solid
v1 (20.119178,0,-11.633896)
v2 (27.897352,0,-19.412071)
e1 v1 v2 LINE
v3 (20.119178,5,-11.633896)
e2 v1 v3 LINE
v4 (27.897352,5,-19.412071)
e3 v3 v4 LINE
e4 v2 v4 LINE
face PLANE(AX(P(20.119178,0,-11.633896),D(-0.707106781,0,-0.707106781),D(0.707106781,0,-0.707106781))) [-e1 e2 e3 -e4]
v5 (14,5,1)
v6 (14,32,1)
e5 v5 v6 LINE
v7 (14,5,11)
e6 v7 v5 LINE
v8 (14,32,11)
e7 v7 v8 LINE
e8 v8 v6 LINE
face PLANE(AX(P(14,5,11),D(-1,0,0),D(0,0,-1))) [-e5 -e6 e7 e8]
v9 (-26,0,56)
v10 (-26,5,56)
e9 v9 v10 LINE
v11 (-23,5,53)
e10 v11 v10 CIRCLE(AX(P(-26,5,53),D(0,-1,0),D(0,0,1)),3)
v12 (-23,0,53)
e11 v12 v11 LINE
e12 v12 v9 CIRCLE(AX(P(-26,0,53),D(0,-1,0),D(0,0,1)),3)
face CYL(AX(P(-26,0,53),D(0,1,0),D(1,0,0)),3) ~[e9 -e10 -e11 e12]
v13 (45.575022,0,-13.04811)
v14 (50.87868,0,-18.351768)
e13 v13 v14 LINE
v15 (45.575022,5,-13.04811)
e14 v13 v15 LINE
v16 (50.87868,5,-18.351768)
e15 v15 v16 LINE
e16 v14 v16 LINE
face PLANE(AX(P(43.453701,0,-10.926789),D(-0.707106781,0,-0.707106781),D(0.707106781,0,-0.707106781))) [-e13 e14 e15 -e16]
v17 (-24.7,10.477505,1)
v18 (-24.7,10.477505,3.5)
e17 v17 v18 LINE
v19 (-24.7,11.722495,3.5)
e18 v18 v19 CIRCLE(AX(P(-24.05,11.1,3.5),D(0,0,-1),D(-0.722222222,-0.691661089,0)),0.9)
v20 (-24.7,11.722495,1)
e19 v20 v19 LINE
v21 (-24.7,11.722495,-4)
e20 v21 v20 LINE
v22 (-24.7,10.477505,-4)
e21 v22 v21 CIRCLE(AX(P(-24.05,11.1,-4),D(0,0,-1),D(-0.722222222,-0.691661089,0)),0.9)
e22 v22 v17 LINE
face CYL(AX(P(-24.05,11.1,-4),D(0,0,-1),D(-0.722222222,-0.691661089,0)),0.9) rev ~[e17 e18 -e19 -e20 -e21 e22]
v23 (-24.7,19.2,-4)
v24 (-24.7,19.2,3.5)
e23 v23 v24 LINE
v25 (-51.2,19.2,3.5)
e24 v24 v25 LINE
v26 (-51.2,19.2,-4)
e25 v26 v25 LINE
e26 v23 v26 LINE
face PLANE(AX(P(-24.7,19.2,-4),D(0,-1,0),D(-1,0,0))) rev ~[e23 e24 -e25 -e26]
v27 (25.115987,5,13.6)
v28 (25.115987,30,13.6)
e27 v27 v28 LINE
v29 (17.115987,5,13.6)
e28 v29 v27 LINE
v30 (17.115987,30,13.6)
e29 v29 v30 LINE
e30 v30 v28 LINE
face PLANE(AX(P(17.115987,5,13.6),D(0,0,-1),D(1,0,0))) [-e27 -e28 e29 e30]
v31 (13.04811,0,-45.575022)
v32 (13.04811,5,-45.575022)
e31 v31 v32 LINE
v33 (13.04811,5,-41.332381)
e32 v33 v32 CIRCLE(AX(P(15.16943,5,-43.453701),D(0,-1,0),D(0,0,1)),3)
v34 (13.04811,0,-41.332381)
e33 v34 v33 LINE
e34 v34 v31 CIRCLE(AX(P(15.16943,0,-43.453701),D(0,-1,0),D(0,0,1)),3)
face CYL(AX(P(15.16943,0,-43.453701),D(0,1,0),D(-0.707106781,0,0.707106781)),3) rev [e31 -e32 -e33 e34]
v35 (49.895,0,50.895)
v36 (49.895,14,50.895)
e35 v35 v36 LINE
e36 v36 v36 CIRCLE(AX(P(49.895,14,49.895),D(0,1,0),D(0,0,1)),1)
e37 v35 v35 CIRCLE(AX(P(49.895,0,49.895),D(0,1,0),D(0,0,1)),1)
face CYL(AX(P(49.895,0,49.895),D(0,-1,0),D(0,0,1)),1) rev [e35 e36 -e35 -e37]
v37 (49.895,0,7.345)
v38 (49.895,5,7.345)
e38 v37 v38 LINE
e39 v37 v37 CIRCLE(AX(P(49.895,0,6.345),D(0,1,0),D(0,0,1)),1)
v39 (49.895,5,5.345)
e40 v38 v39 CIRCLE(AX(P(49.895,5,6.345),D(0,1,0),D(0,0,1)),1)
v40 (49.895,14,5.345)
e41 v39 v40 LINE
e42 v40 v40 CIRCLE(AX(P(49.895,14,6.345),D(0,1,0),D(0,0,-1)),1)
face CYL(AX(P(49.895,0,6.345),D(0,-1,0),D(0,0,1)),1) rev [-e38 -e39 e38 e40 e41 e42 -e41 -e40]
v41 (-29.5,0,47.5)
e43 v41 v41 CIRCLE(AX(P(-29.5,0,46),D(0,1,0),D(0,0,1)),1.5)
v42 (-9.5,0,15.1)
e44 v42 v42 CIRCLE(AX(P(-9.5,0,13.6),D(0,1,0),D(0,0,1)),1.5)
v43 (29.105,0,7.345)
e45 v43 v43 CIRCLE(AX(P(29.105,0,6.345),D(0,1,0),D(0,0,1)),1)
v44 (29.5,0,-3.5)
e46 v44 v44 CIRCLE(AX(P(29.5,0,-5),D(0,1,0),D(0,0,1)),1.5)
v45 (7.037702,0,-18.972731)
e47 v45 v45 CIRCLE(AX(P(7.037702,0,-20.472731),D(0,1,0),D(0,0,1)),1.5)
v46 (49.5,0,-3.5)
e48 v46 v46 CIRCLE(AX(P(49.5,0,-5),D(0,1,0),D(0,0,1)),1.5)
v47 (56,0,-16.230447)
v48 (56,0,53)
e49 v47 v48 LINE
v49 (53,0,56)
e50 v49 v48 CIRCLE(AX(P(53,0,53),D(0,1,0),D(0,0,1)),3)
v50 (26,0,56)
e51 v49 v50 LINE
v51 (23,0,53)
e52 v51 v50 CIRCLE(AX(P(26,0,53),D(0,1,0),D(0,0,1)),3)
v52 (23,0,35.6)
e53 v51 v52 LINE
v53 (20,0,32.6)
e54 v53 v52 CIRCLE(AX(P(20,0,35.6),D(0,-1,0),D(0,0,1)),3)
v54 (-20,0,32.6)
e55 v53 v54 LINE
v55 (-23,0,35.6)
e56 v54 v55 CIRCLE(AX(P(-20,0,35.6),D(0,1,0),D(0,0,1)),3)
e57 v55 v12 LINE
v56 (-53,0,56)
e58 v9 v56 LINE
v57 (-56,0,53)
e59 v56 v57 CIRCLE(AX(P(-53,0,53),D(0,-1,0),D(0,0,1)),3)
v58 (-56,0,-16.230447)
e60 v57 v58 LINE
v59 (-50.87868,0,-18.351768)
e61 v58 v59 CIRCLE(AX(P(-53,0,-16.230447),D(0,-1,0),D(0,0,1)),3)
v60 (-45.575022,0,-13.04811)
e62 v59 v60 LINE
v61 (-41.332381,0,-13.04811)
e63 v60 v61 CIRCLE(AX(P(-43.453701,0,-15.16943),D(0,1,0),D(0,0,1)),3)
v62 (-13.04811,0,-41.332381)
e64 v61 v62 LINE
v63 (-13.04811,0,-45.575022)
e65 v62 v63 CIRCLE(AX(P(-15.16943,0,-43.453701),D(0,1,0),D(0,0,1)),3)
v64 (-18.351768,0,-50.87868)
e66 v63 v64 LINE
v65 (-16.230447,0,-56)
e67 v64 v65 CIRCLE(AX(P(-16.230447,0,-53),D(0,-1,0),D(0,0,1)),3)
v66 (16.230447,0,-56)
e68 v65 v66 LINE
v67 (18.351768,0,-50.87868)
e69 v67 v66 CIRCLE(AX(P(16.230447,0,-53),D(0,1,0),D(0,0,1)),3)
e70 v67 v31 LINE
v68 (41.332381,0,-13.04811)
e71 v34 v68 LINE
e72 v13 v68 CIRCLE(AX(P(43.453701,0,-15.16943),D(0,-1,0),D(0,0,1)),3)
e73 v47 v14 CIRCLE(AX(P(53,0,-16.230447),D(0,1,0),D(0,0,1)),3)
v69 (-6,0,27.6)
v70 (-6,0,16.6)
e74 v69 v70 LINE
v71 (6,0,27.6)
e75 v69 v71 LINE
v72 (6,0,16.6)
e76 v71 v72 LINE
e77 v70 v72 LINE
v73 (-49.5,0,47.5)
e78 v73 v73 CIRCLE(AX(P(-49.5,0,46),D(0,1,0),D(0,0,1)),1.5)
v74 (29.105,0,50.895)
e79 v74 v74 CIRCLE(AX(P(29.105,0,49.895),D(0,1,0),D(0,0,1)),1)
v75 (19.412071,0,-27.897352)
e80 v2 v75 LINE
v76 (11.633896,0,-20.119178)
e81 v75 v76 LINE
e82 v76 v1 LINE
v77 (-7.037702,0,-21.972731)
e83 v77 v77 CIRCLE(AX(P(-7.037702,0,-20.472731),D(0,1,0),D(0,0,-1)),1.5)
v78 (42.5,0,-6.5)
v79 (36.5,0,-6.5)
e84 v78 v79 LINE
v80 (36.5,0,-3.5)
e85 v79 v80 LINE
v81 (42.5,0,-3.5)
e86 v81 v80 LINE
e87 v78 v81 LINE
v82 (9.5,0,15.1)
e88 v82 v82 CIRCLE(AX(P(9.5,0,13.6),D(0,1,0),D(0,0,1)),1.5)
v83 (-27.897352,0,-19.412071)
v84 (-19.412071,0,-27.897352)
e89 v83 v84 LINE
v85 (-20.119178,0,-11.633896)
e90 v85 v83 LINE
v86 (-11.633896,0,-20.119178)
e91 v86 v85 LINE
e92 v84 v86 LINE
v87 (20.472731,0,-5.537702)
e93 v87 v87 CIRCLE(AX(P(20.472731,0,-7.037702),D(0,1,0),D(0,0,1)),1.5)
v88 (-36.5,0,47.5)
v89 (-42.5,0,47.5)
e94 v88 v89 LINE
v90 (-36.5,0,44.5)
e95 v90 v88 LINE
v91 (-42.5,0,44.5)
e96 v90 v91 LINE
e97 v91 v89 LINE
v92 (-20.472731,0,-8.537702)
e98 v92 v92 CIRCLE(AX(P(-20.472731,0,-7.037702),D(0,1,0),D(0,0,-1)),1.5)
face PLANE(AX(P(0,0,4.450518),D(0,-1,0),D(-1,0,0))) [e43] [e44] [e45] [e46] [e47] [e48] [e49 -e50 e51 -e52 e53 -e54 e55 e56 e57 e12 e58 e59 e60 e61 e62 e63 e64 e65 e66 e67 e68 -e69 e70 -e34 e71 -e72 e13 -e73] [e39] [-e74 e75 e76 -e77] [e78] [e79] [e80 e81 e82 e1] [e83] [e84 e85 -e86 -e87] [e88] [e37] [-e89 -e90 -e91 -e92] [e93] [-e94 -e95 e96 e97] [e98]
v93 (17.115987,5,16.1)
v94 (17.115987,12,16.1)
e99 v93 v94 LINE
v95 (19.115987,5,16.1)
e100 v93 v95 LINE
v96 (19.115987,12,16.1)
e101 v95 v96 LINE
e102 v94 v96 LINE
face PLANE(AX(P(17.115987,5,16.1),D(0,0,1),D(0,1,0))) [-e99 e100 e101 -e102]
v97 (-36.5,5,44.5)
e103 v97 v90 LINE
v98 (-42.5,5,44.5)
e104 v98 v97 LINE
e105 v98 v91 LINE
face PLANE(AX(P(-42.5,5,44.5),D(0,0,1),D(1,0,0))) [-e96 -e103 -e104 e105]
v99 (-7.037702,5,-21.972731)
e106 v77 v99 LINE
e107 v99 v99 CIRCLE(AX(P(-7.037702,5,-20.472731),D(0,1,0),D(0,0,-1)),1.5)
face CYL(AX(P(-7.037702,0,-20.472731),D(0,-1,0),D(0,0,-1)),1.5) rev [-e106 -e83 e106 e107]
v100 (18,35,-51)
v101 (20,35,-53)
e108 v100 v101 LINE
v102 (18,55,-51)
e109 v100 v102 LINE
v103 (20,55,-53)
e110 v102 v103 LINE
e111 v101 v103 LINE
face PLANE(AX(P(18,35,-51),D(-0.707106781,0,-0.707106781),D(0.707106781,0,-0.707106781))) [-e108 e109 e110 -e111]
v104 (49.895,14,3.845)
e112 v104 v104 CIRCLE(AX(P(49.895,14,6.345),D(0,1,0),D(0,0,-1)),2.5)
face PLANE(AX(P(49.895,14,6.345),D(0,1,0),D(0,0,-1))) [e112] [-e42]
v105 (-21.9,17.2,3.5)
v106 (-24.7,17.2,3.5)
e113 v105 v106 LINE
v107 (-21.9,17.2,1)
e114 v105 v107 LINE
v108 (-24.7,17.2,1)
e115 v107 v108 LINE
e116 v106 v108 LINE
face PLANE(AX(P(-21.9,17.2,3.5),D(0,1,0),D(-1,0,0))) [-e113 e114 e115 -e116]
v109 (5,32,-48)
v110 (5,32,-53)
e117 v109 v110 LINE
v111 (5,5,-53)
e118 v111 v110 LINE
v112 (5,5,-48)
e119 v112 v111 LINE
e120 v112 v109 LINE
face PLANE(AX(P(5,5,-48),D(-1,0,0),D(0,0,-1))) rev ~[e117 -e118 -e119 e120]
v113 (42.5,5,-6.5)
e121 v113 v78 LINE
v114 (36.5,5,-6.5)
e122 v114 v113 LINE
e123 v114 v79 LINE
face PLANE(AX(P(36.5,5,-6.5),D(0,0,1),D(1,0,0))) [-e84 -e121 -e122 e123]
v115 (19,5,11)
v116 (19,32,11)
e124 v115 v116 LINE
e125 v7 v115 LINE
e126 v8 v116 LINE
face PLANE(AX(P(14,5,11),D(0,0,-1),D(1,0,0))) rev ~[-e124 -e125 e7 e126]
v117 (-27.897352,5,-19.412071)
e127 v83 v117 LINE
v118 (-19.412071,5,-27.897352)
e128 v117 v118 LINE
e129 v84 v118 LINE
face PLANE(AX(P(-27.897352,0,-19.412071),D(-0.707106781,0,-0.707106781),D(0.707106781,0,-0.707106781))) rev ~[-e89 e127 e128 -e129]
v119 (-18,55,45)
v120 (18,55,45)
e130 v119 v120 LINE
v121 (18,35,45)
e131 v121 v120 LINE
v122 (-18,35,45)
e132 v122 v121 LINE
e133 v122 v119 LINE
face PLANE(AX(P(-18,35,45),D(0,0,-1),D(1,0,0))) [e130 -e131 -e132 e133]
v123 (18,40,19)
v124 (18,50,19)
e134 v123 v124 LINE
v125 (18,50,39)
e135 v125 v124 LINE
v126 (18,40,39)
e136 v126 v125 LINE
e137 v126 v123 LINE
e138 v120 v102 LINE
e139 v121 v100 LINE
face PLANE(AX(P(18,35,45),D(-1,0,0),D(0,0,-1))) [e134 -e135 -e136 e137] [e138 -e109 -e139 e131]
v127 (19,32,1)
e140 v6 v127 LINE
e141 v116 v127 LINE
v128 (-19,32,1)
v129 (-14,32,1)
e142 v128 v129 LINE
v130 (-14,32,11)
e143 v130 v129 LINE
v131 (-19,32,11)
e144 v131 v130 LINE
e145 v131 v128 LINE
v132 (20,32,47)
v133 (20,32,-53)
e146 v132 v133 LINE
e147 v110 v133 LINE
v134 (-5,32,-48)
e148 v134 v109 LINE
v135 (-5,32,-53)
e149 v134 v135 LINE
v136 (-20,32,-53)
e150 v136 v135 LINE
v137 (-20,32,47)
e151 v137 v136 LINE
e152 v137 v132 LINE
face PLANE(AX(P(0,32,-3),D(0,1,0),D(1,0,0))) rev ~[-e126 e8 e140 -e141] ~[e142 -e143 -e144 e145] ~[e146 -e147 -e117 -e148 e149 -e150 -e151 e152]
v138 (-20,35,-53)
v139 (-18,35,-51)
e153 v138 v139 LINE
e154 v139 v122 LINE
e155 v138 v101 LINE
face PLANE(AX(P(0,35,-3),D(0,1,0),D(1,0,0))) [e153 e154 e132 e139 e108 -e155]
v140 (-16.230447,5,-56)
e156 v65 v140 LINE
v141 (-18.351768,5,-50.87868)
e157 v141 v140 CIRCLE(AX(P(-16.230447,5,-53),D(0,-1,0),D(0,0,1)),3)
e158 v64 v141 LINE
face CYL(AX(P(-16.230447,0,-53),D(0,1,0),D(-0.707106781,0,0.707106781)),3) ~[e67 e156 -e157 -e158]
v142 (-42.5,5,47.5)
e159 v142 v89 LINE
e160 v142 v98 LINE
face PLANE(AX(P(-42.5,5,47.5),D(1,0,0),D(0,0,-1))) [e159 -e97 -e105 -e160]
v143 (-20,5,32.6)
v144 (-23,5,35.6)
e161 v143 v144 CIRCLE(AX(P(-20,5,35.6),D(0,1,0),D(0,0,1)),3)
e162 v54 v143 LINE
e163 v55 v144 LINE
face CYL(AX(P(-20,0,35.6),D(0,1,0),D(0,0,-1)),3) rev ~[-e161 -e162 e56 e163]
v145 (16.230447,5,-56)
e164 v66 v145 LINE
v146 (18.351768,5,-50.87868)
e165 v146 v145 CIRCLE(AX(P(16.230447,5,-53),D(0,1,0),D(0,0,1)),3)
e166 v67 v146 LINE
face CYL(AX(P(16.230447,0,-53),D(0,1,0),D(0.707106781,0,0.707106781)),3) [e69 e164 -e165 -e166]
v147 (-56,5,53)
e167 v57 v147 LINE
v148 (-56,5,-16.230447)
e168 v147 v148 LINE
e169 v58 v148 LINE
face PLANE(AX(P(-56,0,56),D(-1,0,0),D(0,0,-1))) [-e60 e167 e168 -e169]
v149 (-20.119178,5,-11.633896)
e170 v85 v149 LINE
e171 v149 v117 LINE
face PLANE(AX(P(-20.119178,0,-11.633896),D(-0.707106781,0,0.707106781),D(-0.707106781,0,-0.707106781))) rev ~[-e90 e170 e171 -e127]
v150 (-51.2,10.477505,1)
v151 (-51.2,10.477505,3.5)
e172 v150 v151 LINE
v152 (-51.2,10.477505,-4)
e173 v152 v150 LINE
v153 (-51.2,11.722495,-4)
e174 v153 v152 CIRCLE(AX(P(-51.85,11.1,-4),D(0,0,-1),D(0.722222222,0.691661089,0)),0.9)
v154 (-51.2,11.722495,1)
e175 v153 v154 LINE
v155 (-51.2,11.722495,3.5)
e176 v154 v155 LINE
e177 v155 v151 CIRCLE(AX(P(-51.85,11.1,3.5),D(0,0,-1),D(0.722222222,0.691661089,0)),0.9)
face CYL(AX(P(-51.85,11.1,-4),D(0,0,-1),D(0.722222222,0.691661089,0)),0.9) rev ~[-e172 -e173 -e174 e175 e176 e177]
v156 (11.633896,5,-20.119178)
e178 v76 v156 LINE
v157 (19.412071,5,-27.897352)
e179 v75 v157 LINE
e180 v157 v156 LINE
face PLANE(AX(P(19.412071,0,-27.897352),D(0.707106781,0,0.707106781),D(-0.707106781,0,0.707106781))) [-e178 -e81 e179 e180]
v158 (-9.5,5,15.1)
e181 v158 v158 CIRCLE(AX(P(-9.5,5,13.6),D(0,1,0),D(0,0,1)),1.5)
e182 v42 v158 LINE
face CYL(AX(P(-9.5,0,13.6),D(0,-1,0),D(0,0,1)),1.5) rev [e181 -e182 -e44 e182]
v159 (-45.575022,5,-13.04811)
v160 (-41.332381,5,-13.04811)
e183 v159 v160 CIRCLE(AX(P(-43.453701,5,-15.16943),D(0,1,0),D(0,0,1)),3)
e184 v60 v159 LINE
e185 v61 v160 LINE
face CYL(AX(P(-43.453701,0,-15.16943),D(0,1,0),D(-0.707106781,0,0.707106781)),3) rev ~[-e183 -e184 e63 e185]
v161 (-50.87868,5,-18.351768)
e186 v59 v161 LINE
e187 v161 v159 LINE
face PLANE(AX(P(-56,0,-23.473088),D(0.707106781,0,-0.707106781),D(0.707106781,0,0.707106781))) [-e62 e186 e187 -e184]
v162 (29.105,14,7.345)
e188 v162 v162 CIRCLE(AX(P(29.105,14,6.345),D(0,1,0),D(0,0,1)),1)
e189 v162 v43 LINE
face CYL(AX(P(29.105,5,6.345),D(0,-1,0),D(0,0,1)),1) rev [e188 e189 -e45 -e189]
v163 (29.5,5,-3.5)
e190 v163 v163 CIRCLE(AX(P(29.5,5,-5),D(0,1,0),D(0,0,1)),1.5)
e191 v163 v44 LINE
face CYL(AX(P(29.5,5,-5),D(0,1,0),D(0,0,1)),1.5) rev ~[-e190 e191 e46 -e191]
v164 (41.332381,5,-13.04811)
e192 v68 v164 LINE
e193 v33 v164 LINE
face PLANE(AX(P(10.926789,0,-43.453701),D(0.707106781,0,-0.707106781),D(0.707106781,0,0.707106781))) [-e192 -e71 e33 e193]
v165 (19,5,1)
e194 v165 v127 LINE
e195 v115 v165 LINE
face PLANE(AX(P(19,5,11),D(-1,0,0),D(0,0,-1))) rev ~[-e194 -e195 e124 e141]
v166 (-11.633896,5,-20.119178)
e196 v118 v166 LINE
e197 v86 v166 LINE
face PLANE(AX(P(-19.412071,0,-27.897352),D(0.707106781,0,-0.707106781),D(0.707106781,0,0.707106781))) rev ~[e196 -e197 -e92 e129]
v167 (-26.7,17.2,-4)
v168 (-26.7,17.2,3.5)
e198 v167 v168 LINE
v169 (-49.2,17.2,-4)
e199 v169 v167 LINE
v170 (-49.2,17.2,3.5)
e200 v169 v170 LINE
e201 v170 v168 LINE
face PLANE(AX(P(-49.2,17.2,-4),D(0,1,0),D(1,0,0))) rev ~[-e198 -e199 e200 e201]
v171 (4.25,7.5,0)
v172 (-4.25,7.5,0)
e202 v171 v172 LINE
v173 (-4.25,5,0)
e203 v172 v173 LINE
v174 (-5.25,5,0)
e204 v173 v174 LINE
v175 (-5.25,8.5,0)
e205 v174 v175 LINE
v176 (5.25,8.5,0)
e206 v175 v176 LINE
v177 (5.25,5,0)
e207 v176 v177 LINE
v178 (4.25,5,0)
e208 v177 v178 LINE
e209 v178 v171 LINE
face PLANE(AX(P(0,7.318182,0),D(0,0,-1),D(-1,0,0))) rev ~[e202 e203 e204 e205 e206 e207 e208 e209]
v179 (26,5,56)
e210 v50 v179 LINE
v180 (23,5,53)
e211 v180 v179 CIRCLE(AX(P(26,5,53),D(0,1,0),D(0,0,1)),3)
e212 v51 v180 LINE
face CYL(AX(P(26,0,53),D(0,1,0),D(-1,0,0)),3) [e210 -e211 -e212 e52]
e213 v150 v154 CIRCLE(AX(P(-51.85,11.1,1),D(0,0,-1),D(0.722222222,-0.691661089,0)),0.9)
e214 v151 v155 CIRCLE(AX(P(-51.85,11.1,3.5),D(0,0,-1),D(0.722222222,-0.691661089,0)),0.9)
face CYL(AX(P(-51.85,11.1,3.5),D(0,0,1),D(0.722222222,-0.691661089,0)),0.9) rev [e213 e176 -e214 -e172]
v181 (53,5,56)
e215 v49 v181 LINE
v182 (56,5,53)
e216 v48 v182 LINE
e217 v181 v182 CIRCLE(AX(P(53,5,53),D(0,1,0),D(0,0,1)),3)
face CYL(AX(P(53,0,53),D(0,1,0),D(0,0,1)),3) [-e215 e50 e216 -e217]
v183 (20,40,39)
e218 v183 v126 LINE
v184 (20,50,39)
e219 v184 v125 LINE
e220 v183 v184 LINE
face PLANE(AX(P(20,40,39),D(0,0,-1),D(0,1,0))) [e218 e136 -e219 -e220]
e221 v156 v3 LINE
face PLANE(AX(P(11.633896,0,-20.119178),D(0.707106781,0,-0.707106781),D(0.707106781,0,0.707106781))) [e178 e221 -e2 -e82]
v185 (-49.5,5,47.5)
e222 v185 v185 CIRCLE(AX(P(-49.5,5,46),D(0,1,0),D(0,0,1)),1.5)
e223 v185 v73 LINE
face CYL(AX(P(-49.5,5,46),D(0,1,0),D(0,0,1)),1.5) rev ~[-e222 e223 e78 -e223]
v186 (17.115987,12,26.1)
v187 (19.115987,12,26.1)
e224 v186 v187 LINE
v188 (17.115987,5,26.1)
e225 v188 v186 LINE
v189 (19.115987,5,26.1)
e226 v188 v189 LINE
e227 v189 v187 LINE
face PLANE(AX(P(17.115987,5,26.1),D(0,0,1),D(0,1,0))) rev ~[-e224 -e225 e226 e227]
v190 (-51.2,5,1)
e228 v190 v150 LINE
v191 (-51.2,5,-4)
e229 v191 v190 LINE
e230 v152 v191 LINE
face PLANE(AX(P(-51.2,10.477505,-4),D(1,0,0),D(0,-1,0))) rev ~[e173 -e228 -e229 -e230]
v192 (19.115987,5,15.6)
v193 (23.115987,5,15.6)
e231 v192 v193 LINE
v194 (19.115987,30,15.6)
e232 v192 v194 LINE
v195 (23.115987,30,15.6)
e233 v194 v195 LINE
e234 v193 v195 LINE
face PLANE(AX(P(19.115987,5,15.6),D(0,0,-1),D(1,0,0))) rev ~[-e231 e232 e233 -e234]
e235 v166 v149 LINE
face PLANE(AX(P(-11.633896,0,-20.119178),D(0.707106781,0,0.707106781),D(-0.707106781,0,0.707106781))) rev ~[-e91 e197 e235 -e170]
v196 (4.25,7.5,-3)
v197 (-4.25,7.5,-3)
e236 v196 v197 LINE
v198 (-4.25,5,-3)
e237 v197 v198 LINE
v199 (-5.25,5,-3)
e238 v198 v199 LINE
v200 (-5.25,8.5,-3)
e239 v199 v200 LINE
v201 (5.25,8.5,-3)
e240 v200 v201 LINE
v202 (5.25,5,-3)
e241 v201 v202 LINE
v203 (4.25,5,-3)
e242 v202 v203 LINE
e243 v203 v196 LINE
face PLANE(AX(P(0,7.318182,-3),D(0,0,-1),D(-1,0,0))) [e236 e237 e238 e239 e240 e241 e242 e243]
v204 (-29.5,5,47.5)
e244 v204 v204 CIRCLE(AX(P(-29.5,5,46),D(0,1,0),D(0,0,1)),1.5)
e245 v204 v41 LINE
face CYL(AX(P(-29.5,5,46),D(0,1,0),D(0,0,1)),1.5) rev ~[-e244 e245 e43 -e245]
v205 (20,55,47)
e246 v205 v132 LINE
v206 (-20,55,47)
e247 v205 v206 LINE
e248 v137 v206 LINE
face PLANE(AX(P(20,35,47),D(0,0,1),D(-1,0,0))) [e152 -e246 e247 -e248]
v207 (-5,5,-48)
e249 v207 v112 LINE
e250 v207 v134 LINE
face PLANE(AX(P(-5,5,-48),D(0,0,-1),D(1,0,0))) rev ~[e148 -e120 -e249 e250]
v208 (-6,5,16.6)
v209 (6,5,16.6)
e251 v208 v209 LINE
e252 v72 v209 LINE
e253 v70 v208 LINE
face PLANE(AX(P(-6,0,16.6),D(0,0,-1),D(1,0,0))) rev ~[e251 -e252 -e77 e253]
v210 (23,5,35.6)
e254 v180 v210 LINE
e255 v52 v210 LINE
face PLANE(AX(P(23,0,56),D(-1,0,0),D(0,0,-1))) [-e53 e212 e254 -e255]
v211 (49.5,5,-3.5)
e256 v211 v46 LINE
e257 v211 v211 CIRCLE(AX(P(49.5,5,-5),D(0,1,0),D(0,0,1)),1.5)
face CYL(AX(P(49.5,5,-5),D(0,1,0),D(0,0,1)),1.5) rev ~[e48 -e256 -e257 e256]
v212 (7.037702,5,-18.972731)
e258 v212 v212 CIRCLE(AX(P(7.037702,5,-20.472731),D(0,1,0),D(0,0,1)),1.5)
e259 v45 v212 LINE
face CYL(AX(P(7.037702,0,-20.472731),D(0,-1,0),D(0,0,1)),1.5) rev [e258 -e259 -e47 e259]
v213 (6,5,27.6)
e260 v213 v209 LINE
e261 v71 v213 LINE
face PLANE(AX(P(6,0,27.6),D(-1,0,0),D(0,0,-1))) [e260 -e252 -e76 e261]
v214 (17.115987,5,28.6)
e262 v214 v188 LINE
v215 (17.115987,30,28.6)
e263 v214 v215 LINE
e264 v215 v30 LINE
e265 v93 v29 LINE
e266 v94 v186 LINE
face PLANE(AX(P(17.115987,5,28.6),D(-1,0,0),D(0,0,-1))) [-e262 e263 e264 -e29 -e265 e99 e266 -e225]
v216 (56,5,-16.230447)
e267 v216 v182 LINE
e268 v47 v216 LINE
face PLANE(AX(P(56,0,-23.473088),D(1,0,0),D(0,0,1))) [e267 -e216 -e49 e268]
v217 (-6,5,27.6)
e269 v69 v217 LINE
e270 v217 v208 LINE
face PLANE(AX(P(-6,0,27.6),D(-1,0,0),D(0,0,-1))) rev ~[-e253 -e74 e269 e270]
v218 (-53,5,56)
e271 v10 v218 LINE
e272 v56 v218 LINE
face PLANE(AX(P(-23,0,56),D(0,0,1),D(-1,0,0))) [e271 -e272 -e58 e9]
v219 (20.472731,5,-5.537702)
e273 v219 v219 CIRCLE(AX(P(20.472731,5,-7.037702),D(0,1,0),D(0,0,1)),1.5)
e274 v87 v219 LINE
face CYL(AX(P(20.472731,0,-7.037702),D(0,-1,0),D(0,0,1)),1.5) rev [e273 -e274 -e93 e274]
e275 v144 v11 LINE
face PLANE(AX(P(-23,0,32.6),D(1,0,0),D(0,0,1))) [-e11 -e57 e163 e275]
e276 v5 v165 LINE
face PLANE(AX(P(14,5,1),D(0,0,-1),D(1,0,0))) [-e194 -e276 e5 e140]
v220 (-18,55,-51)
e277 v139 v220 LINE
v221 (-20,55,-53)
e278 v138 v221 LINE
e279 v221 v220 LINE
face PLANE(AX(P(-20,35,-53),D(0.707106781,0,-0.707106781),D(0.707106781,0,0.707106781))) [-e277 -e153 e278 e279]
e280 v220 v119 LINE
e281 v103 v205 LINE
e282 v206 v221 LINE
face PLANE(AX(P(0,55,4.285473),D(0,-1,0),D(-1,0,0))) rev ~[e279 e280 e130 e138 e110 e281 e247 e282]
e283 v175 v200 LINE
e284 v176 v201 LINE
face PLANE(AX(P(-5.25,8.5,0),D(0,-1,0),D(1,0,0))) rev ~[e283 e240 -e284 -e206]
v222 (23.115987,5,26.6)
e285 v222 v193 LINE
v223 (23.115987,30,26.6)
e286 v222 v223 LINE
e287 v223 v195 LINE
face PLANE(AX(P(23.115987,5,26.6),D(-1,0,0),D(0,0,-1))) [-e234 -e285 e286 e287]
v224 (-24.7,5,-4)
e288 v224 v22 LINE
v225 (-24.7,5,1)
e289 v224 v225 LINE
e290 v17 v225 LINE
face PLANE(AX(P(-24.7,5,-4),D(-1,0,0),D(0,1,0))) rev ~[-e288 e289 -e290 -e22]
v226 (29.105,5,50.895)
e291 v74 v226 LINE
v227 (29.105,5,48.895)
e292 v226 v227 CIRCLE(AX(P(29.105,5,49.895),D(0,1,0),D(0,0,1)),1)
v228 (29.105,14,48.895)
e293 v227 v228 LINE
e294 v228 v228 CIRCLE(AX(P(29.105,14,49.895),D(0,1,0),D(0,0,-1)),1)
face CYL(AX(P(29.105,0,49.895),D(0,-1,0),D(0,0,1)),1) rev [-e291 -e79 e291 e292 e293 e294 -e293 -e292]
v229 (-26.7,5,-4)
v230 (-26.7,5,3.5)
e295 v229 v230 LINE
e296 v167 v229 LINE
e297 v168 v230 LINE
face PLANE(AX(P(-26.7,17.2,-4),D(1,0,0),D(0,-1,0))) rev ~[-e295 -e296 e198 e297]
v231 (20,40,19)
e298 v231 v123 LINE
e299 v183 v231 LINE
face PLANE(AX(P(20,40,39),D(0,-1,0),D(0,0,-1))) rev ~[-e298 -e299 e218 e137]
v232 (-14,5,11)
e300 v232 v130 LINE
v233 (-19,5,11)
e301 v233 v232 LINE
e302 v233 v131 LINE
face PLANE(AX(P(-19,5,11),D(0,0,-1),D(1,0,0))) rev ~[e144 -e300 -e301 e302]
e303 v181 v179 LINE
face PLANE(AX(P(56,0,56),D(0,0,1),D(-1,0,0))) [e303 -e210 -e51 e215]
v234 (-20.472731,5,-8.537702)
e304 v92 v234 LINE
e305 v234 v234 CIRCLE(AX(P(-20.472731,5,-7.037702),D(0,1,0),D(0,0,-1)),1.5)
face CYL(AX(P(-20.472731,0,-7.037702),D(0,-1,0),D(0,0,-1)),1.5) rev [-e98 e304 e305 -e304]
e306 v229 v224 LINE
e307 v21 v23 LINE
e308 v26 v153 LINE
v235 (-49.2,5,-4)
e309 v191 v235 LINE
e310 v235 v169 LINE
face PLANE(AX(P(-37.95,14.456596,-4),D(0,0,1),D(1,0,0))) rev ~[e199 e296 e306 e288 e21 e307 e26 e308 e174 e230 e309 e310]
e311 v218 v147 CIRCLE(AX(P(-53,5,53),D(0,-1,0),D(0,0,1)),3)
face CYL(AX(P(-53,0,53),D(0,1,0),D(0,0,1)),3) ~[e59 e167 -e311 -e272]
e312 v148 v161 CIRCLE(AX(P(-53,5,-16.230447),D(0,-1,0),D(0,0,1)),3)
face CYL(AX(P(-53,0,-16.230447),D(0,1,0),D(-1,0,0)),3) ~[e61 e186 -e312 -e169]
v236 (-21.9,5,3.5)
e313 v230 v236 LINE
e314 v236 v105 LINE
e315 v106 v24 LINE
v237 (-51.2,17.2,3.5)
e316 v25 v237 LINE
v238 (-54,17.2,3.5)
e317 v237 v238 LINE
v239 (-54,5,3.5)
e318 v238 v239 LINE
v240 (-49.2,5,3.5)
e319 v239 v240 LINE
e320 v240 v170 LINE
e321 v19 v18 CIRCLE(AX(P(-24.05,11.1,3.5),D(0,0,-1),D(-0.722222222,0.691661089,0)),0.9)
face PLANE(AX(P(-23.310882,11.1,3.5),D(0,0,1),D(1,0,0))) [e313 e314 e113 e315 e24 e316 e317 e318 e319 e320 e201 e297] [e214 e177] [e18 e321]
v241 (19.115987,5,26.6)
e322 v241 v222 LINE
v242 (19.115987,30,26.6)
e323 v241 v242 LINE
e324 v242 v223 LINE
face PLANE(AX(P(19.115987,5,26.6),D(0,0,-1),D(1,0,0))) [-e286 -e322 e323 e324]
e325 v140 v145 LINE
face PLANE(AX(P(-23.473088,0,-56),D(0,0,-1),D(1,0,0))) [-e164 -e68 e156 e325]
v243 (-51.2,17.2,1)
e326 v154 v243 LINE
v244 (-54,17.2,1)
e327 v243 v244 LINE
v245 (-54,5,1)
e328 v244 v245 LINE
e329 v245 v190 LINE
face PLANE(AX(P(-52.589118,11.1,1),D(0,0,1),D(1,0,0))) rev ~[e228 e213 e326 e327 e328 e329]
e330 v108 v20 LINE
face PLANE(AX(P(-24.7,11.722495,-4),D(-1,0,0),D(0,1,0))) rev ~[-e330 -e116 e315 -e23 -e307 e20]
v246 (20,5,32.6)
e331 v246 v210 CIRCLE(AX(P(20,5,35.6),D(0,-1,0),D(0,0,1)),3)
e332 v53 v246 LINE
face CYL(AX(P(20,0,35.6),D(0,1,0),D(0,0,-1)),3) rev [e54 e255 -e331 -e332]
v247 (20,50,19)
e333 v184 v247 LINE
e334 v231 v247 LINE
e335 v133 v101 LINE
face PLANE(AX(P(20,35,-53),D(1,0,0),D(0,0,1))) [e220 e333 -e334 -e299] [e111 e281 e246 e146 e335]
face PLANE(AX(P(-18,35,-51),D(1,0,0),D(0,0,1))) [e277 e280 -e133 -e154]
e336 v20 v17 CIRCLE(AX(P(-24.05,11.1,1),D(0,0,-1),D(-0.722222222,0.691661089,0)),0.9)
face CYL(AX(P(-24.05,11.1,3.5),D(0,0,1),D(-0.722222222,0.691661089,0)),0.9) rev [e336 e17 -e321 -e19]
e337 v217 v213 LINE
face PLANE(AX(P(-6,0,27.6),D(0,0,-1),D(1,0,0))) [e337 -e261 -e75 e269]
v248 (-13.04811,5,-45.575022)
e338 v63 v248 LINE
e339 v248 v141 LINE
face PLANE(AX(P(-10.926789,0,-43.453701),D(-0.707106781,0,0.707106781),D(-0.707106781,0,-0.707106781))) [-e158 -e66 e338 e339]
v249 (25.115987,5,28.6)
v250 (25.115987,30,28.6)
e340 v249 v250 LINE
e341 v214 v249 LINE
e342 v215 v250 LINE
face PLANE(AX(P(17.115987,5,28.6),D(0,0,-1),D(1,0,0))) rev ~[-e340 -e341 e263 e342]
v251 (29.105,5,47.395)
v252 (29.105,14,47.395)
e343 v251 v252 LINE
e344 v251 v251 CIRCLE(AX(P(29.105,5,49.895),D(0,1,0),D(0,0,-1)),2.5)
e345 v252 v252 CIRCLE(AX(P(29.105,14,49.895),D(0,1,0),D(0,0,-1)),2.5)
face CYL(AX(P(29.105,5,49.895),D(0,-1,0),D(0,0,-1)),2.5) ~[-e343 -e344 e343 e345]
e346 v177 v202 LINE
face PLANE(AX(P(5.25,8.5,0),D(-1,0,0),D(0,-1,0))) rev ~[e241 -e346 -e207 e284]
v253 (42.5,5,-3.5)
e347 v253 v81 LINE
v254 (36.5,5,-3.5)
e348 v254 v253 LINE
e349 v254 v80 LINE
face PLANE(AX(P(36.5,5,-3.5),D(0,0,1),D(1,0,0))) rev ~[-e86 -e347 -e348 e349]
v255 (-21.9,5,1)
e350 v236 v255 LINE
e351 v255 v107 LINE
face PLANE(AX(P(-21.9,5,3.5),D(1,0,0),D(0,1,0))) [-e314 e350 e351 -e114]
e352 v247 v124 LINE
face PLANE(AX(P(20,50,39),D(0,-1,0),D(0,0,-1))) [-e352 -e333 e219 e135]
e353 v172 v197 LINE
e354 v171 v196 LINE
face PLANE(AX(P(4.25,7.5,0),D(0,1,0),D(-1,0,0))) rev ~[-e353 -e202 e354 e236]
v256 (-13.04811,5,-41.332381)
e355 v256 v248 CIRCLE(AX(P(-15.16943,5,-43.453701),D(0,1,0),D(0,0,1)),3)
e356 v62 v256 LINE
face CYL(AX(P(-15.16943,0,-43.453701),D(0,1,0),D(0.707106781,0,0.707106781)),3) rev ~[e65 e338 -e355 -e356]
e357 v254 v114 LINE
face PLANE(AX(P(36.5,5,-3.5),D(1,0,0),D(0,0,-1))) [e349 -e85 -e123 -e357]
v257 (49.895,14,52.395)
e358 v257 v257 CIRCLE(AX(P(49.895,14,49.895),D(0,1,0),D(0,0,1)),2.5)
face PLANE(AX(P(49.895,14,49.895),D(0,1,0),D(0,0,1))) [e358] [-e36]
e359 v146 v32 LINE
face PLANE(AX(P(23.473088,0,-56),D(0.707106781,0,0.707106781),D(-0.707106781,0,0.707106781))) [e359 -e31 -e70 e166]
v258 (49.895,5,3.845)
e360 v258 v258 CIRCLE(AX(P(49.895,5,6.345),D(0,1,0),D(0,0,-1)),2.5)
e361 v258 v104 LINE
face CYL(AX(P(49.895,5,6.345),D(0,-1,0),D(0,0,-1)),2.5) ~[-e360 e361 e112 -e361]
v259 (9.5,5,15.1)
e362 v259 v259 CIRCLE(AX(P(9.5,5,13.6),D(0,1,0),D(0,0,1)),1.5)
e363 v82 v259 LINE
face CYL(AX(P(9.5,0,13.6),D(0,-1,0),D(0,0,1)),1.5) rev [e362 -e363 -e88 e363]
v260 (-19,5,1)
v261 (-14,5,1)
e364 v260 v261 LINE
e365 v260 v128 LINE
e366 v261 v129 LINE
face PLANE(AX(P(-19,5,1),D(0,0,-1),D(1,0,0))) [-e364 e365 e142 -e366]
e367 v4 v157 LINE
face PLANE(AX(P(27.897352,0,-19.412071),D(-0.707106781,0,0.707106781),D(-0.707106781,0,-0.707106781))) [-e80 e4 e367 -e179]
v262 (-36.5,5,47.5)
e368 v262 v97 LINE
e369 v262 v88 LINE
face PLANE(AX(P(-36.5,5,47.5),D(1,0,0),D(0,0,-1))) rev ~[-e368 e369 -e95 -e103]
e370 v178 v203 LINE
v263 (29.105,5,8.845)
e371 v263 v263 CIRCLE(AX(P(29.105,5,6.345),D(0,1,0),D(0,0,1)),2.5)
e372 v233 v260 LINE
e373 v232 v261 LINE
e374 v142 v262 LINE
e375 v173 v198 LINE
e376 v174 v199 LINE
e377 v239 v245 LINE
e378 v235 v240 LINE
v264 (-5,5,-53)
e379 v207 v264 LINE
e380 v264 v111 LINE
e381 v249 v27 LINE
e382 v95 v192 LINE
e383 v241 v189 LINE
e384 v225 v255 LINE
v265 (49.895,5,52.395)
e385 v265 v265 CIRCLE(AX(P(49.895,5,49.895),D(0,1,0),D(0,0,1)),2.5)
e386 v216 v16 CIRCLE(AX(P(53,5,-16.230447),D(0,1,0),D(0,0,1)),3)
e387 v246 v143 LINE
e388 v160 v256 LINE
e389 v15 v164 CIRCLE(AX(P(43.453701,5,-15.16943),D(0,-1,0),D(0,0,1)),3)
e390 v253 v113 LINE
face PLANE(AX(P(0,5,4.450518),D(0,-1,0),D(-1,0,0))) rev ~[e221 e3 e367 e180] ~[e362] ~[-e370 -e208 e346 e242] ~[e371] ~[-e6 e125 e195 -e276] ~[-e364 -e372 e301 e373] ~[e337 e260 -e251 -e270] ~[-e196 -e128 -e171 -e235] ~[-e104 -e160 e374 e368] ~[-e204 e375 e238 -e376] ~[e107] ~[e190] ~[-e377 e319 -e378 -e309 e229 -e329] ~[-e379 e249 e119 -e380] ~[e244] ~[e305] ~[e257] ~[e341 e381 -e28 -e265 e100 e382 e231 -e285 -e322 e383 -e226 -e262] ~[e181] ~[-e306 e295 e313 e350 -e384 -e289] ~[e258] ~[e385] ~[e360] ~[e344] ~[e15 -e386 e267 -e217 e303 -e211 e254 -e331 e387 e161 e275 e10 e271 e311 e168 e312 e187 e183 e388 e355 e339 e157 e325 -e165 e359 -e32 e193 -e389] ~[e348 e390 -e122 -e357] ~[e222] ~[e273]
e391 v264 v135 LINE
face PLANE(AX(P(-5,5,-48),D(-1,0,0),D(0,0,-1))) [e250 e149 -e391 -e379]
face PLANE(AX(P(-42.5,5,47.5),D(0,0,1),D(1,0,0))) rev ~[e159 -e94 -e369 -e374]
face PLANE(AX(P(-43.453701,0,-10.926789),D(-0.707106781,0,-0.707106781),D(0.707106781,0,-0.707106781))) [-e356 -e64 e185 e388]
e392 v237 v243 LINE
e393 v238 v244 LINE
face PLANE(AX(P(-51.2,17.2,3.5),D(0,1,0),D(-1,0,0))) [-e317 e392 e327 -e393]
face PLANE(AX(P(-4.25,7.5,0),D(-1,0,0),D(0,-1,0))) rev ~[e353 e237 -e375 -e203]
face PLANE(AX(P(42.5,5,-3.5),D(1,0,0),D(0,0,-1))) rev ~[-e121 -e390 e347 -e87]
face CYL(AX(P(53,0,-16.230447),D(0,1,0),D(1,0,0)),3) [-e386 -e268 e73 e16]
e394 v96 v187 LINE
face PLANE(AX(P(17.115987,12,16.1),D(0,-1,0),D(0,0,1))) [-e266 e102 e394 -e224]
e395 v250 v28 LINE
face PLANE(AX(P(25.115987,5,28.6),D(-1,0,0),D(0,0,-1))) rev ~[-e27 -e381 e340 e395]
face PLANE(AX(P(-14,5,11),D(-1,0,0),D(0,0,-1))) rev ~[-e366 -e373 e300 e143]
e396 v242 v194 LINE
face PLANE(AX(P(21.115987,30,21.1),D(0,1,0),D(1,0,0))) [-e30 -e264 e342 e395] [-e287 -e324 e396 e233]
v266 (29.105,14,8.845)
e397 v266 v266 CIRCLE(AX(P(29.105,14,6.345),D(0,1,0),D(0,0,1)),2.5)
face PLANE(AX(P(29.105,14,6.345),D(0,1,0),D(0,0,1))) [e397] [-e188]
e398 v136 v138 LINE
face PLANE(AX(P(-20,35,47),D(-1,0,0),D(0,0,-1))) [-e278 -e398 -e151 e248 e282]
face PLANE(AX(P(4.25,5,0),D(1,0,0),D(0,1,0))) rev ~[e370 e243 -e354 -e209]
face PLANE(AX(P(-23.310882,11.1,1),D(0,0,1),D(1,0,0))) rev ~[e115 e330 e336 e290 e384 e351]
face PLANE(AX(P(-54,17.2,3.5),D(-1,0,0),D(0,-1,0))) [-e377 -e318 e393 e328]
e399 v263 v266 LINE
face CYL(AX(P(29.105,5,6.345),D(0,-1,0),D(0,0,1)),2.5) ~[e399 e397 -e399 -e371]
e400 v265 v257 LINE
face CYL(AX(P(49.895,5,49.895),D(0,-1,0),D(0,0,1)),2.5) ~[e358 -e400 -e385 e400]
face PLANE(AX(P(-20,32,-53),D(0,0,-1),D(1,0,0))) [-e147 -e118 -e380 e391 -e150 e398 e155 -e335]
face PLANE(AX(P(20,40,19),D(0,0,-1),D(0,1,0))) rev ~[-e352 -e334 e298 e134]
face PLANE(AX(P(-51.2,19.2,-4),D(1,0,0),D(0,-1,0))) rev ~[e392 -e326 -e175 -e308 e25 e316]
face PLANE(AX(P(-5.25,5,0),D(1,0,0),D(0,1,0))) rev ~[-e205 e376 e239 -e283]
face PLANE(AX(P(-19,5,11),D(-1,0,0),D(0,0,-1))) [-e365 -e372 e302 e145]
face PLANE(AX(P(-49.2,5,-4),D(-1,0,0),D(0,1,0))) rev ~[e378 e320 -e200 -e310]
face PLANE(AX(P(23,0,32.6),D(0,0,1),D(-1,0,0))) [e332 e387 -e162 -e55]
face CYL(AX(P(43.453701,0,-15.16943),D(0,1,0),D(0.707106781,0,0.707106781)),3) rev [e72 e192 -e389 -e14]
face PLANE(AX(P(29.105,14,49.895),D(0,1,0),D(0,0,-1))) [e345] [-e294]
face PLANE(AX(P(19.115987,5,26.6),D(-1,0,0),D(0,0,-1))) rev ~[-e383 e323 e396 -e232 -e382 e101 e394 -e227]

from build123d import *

# Parameters (mm, degrees)
SKETCH1_R               = 1.5
SKETCH1_R_2             = 1
SKETCH1_W               = 12
SKETCH1_H               = 11
BOSS_EXTRUDE1_DEPTH     = 5
FILLET1_R               = 3
BOSS_EXTRUDE2_START     = -60
BOSS_EXTRUDE2_DEPTH     = 7.5
BOSS_EXTRUDE3_START     = -52.5
BOSS_EXTRUDE3_DEPTH     = 2.5
SKETCH4_R               = 2.5
SKETCH4_R_2             = 1
BOSS_EXTRUDE4_DEPTH     = 9
SKETCH5_R               = 1.5
SKETCH5_W               = 6
SKETCH5_H               = 3
CUT_EXTRUDE1_DEPTH      = 81.458933625
CUT_EXTRUDE1_DEPTH_BACK = 81.458933625
SKETCH6_W               = 10
SKETCH6_H               = 5
SKETCH6_W_2             = 5
SKETCH6_H_2             = 10
BOSS_EXTRUDE5_DEPTH     = 27
SKETCH7_W               = 40
SKETCH7_H               = 100
BOSS_EXTRUDE6_DEPTH     = 3
BOSS_EXTRUDE7_DEPTH     = 20
SKETCH9_W               = 20
SKETCH9_H               = 10
CUT_EXTRUDE2_DEPTH      = 2
BOSS_EXTRUDE8_DEPTH     = 3
SKETCH11_W              = 8
SKETCH11_H              = 15
SKETCH11_W_2            = 4
SKETCH11_H_2            = 11
BOSS_EXTRUDE9_DEPTH     = 25
SKETCH12_W              = 10
SKETCH12_H              = 7
CUT_EXTRUDE3_DEPTH      = 4


with BuildPart() as part:
    # Sketch1 → Boss-Extrude1 (new body)
    with BuildSketch(Plane(origin=(0, 0, 0), x_dir=(1, 0, 0), z_dir=(0, 1, 0))):
        Polygon((23, -32.6), (-23, -32.6), (-23, -56), (-56, -56), (-56, 23.473088065), (-43.45370132, 10.926789386), (-10.926789386, 43.45370132), (-23.473088065, 56), (23.473088065, 56), (10.926789386, 43.45370132), (43.45370132, 10.926789386), (56, 23.473088065), (56, -56), (23, -56), align=None)
        with Locations(Location((7.037702089, 20.472730932, 0), (0, 0, 270))):
            Circle(SKETCH1_R, mode=Mode.SUBTRACT)
        with Locations(Location((20.472730932, 7.037702089, 0), (0, 0, 270))):
            Circle(SKETCH1_R, mode=Mode.SUBTRACT)
        with Locations(Location((-9.5, -13.6, 0), (0, 0, 270))):
            Circle(SKETCH1_R, mode=Mode.SUBTRACT)
        with Locations(Location((9.5, -13.6, 0), (0, 0, 270))):
            Circle(SKETCH1_R, mode=Mode.SUBTRACT)
        with Locations(Location((-20.472730932, 7.037702089, 0), (0, 0, 90))):
            Circle(SKETCH1_R, mode=Mode.SUBTRACT)
        with Locations(Location((-7.037702089, 20.472730932, 0), (0, 0, 90))):
            Circle(SKETCH1_R, mode=Mode.SUBTRACT)
        with Locations(Location((29.105, -6.345, 0), (0, 0, 270))):
            Circle(SKETCH1_R_2, mode=Mode.SUBTRACT)
        with Locations(Location((49.895, -6.345, 0), (0, 0, 270))):
            Circle(SKETCH1_R_2, mode=Mode.SUBTRACT)
        with Locations(Location((49.895, -49.895, 0), (0, 0, 270))):
            Circle(SKETCH1_R_2, mode=Mode.SUBTRACT)
        with Locations(Location((29.105, -49.895, 0), (0, 0, 270))):
            Circle(SKETCH1_R_2, mode=Mode.SUBTRACT)
        Polygon((19.41207076, 27.897352134), (11.633896167, 20.119177541), (20.119177541, 11.633896167), (27.897352134, 19.41207076), align=None, mode=Mode.SUBTRACT)
        with Locations((0, -22.1)):
            Rectangle(SKETCH1_W, SKETCH1_H, mode=Mode.SUBTRACT)
        Polygon((-20.119177541, 11.633896167), (-27.897352134, 19.41207076), (-19.41207076, 27.897352134), (-11.633896167, 20.119177541), align=None, mode=Mode.SUBTRACT)
    extrude(amount=BOSS_EXTRUDE1_DEPTH)

    # Fillet1
    fillet1_edges = [part.edges().sort_by_distance(p)[0] for p in [
        (23, 2.5, 32.6),
        (-23, 2.5, 32.6),
        (-23, 2.5, 56),
        (-56, 2.5, 56),
        (-56, 2.5, -23.473088065),
        (-43.45370132, 2.5, -10.926789386),
        (-10.926789386, 2.5, -43.45370132),
        (-23.473088065, 2.5, -56),
        (23.473088065, 2.5, -56),
        (10.926789386, 2.5, -43.45370132),
        (43.45370132, 2.5, -10.926789386),
        (56, 2.5, -23.473088065),
        (56, 2.5, 56),
        (23, 2.5, 56),
    ]]
    fillet(fillet1_edges, radius=FILLET1_R)

    # Sketch3 → Boss-Extrude2 (add)
    with BuildSketch(Plane.XY.offset(56).offset(BOSS_EXTRUDE2_START)):
        with BuildLine():
            Line((-24.7, 11.72249498), (-24.7, 19.2))
            Line((-24.7, 19.2), (-51.2, 19.2))
            Line((-51.2, 19.2), (-51.2, 11.72249498))
            ThreePointArc((-51.2, 11.72249498), (-50.95, 11.1), (-51.2, 10.47750502))
            Line((-51.2, 10.47750502), (-51.2, 5))
            Line((-51.2, 5), (-49.2, 5))
            Line((-49.2, 5), (-49.2, 17.2))
            Line((-49.2, 17.2), (-26.7, 17.2))
            Line((-26.7, 17.2), (-26.7, 5))
            Line((-26.7, 5), (-24.7, 5))
            Line((-24.7, 5), (-24.7, 10.47750502))
            ThreePointArc((-24.7, 10.47750502), (-24.95, 11.1), (-24.7, 11.72249498))
        make_face()
    extrude(amount=BOSS_EXTRUDE2_DEPTH)

    # Sketch3<4> → Boss-Extrude3 (add)
    with BuildSketch(Plane.XY.offset(56).offset(BOSS_EXTRUDE3_START)):
        with BuildLine():
            Line((-21.9, 17.2), (-24.7, 17.2))
            Line((-24.7, 17.2), (-24.7, 11.72249498))
            ThreePointArc((-24.7, 11.72249498), (-23.15, 11.1), (-24.7, 10.47750502))
            Line((-24.7, 10.47750502), (-24.7, 5))
            Line((-24.7, 5), (-21.9, 5))
            Line((-21.9, 5), (-21.9, 17.2))
        make_face()
        with BuildLine():
            Line((-51.2, 11.72249498), (-51.2, 17.2))
            Line((-51.2, 17.2), (-54, 17.2))
            Line((-54, 17.2), (-54, 5))
            Line((-54, 5), (-51.2, 5))
            Line((-51.2, 5), (-51.2, 10.47750502))
            ThreePointArc((-51.2, 10.47750502), (-52.75, 11.1), (-51.2, 11.72249498))
        make_face()
    extrude(amount=-BOSS_EXTRUDE3_DEPTH)

    # Sketch4 → Boss-Extrude4 (add)
    with BuildSketch(Plane(origin=(0, 5, 0), x_dir=(1, 0, 0), z_dir=(0, 1, 0))):
        with Locations(Location((29.105, -6.345, 0), (0, 0, 270))):
            Circle(SKETCH4_R)
        with Locations(Location((29.105, -6.345, 0), (0, 0, 270))):
            Circle(SKETCH4_R_2, mode=Mode.SUBTRACT)
        with Locations(Location((29.105, -49.895, 0), (0, 0, 90))):
            Circle(SKETCH4_R)
        with Locations(Location((29.105, -49.895, 0), (0, 0, 90))):
            Circle(SKETCH4_R_2, mode=Mode.SUBTRACT)
        with Locations(Location((49.895, -49.895, 0), (0, 0, 270))):
            Circle(SKETCH4_R)
        with Locations(Location((49.895, -49.895, 0), (0, 0, 270))):
            Circle(SKETCH4_R_2, mode=Mode.SUBTRACT)
        with Locations(Location((49.895, -6.345, 0), (0, 0, 90))):
            Circle(SKETCH4_R)
        with Locations(Location((49.895, -6.345, 0), (0, 0, 90))):
            Circle(SKETCH4_R_2, mode=Mode.SUBTRACT)
    extrude(amount=BOSS_EXTRUDE4_DEPTH)

    # Sketch5 → Cut-Extrude1 (cut, two sides)
    with BuildSketch(Plane(origin=(0, 5, 0), x_dir=(1, 0, 0), z_dir=(0, 1, 0))) as cut_extrude1_sk:
        with Locations(Location((-29.5, -46, 0), (0, 0, 270))):
            Circle(SKETCH5_R)
        with Locations(Location((-49.5, -46, 0), (0, 0, 270))):
            Circle(SKETCH5_R)
        with Locations(Location((29.5, 5, 0), (0, 0, 270))):
            Circle(SKETCH5_R)
        with Locations(Location((49.5, 5, 0), (0, 0, 270))):
            Circle(SKETCH5_R)
        with Locations((-39.5, -46)):
            Rectangle(SKETCH5_W, SKETCH5_H)
        with Locations((39.5, 5)):
            Rectangle(SKETCH5_W, SKETCH5_H)
    extrude(amount=CUT_EXTRUDE1_DEPTH, mode=Mode.SUBTRACT)
    extrude(cut_extrude1_sk.sketch, amount=-CUT_EXTRUDE1_DEPTH_BACK, mode=Mode.SUBTRACT)

    # Sketch6 → Boss-Extrude5 (add)
    with BuildSketch(Plane(origin=(0, 5, 0), x_dir=(1, 0, 0), z_dir=(0, 1, 0))):
        with Locations((0, 50.5)):
            Rectangle(SKETCH6_W, SKETCH6_H)
        with Locations((-16.5, -6)):
            Rectangle(SKETCH6_W_2, SKETCH6_H_2)
        with Locations((16.5, -6)):
            Rectangle(SKETCH6_W_2, SKETCH6_H_2)
    extrude(amount=BOSS_EXTRUDE5_DEPTH)

    # Sketch7 → Boss-Extrude6 (add)
    with BuildSketch(Plane(origin=(0, 32, 0), x_dir=(1, 0, 0), z_dir=(0, 1, 0))):
        with Locations((0, 3)):
            Rectangle(SKETCH7_W, SKETCH7_H)
    extrude(amount=BOSS_EXTRUDE6_DEPTH)

    # Sketch8 → Boss-Extrude7 (add)
    with BuildSketch(Plane(origin=(0, 35, 0), x_dir=(1, 0, 0), z_dir=(0, 1, 0))):
        Polygon((-18, 51), (-18, -45), (18, -45), (18, 51), (20, 53), (20, -47), (-20, -47), (-20, 53), align=None)
    extrude(amount=BOSS_EXTRUDE7_DEPTH)

    # Sketch9 → Cut-Extrude2 (cut)
    with BuildSketch(Plane(origin=(20, 0, 0), x_dir=(0, 0, -1), z_dir=(1, 0, 0))):
        with Locations((-29, 45)):
            Rectangle(SKETCH9_W, SKETCH9_H)
    extrude(amount=-CUT_EXTRUDE2_DEPTH, mode=Mode.SUBTRACT)

    # Sketch10 → Boss-Extrude8 (add)
    with BuildSketch(Plane.XY):
        Polygon((-5.25, 5), (-5.25, 8.5), (5.25, 8.5), (5.25, 5), (4.25, 5), (4.25, 7.5), (-4.25, 7.5), (-4.25, 5), align=None)
    extrude(amount=-BOSS_EXTRUDE8_DEPTH)

    # Sketch11 → Boss-Extrude9 (add)
    with BuildSketch(Plane(origin=(0, 5, 0), x_dir=(1, 0, 0), z_dir=(0, 1, 0))):
        with Locations((21.115986736, -21.1)):
            Rectangle(SKETCH11_W, SKETCH11_H)
        with Locations((21.115986736, -21.1)):
            Rectangle(SKETCH11_W_2, SKETCH11_H_2, mode=Mode.SUBTRACT)
    extrude(amount=BOSS_EXTRUDE9_DEPTH)

    # Sketch12 → Cut-Extrude3 (cut)
    with BuildSketch(Plane.ZY.offset(-17.115986736)):
        with Locations((21.1, 8.5)):
            Rectangle(SKETCH12_W, SKETCH12_H)
    extrude(amount=-CUT_EXTRUDE3_DEPTH, mode=Mode.SUBTRACT)


solid = part.part
